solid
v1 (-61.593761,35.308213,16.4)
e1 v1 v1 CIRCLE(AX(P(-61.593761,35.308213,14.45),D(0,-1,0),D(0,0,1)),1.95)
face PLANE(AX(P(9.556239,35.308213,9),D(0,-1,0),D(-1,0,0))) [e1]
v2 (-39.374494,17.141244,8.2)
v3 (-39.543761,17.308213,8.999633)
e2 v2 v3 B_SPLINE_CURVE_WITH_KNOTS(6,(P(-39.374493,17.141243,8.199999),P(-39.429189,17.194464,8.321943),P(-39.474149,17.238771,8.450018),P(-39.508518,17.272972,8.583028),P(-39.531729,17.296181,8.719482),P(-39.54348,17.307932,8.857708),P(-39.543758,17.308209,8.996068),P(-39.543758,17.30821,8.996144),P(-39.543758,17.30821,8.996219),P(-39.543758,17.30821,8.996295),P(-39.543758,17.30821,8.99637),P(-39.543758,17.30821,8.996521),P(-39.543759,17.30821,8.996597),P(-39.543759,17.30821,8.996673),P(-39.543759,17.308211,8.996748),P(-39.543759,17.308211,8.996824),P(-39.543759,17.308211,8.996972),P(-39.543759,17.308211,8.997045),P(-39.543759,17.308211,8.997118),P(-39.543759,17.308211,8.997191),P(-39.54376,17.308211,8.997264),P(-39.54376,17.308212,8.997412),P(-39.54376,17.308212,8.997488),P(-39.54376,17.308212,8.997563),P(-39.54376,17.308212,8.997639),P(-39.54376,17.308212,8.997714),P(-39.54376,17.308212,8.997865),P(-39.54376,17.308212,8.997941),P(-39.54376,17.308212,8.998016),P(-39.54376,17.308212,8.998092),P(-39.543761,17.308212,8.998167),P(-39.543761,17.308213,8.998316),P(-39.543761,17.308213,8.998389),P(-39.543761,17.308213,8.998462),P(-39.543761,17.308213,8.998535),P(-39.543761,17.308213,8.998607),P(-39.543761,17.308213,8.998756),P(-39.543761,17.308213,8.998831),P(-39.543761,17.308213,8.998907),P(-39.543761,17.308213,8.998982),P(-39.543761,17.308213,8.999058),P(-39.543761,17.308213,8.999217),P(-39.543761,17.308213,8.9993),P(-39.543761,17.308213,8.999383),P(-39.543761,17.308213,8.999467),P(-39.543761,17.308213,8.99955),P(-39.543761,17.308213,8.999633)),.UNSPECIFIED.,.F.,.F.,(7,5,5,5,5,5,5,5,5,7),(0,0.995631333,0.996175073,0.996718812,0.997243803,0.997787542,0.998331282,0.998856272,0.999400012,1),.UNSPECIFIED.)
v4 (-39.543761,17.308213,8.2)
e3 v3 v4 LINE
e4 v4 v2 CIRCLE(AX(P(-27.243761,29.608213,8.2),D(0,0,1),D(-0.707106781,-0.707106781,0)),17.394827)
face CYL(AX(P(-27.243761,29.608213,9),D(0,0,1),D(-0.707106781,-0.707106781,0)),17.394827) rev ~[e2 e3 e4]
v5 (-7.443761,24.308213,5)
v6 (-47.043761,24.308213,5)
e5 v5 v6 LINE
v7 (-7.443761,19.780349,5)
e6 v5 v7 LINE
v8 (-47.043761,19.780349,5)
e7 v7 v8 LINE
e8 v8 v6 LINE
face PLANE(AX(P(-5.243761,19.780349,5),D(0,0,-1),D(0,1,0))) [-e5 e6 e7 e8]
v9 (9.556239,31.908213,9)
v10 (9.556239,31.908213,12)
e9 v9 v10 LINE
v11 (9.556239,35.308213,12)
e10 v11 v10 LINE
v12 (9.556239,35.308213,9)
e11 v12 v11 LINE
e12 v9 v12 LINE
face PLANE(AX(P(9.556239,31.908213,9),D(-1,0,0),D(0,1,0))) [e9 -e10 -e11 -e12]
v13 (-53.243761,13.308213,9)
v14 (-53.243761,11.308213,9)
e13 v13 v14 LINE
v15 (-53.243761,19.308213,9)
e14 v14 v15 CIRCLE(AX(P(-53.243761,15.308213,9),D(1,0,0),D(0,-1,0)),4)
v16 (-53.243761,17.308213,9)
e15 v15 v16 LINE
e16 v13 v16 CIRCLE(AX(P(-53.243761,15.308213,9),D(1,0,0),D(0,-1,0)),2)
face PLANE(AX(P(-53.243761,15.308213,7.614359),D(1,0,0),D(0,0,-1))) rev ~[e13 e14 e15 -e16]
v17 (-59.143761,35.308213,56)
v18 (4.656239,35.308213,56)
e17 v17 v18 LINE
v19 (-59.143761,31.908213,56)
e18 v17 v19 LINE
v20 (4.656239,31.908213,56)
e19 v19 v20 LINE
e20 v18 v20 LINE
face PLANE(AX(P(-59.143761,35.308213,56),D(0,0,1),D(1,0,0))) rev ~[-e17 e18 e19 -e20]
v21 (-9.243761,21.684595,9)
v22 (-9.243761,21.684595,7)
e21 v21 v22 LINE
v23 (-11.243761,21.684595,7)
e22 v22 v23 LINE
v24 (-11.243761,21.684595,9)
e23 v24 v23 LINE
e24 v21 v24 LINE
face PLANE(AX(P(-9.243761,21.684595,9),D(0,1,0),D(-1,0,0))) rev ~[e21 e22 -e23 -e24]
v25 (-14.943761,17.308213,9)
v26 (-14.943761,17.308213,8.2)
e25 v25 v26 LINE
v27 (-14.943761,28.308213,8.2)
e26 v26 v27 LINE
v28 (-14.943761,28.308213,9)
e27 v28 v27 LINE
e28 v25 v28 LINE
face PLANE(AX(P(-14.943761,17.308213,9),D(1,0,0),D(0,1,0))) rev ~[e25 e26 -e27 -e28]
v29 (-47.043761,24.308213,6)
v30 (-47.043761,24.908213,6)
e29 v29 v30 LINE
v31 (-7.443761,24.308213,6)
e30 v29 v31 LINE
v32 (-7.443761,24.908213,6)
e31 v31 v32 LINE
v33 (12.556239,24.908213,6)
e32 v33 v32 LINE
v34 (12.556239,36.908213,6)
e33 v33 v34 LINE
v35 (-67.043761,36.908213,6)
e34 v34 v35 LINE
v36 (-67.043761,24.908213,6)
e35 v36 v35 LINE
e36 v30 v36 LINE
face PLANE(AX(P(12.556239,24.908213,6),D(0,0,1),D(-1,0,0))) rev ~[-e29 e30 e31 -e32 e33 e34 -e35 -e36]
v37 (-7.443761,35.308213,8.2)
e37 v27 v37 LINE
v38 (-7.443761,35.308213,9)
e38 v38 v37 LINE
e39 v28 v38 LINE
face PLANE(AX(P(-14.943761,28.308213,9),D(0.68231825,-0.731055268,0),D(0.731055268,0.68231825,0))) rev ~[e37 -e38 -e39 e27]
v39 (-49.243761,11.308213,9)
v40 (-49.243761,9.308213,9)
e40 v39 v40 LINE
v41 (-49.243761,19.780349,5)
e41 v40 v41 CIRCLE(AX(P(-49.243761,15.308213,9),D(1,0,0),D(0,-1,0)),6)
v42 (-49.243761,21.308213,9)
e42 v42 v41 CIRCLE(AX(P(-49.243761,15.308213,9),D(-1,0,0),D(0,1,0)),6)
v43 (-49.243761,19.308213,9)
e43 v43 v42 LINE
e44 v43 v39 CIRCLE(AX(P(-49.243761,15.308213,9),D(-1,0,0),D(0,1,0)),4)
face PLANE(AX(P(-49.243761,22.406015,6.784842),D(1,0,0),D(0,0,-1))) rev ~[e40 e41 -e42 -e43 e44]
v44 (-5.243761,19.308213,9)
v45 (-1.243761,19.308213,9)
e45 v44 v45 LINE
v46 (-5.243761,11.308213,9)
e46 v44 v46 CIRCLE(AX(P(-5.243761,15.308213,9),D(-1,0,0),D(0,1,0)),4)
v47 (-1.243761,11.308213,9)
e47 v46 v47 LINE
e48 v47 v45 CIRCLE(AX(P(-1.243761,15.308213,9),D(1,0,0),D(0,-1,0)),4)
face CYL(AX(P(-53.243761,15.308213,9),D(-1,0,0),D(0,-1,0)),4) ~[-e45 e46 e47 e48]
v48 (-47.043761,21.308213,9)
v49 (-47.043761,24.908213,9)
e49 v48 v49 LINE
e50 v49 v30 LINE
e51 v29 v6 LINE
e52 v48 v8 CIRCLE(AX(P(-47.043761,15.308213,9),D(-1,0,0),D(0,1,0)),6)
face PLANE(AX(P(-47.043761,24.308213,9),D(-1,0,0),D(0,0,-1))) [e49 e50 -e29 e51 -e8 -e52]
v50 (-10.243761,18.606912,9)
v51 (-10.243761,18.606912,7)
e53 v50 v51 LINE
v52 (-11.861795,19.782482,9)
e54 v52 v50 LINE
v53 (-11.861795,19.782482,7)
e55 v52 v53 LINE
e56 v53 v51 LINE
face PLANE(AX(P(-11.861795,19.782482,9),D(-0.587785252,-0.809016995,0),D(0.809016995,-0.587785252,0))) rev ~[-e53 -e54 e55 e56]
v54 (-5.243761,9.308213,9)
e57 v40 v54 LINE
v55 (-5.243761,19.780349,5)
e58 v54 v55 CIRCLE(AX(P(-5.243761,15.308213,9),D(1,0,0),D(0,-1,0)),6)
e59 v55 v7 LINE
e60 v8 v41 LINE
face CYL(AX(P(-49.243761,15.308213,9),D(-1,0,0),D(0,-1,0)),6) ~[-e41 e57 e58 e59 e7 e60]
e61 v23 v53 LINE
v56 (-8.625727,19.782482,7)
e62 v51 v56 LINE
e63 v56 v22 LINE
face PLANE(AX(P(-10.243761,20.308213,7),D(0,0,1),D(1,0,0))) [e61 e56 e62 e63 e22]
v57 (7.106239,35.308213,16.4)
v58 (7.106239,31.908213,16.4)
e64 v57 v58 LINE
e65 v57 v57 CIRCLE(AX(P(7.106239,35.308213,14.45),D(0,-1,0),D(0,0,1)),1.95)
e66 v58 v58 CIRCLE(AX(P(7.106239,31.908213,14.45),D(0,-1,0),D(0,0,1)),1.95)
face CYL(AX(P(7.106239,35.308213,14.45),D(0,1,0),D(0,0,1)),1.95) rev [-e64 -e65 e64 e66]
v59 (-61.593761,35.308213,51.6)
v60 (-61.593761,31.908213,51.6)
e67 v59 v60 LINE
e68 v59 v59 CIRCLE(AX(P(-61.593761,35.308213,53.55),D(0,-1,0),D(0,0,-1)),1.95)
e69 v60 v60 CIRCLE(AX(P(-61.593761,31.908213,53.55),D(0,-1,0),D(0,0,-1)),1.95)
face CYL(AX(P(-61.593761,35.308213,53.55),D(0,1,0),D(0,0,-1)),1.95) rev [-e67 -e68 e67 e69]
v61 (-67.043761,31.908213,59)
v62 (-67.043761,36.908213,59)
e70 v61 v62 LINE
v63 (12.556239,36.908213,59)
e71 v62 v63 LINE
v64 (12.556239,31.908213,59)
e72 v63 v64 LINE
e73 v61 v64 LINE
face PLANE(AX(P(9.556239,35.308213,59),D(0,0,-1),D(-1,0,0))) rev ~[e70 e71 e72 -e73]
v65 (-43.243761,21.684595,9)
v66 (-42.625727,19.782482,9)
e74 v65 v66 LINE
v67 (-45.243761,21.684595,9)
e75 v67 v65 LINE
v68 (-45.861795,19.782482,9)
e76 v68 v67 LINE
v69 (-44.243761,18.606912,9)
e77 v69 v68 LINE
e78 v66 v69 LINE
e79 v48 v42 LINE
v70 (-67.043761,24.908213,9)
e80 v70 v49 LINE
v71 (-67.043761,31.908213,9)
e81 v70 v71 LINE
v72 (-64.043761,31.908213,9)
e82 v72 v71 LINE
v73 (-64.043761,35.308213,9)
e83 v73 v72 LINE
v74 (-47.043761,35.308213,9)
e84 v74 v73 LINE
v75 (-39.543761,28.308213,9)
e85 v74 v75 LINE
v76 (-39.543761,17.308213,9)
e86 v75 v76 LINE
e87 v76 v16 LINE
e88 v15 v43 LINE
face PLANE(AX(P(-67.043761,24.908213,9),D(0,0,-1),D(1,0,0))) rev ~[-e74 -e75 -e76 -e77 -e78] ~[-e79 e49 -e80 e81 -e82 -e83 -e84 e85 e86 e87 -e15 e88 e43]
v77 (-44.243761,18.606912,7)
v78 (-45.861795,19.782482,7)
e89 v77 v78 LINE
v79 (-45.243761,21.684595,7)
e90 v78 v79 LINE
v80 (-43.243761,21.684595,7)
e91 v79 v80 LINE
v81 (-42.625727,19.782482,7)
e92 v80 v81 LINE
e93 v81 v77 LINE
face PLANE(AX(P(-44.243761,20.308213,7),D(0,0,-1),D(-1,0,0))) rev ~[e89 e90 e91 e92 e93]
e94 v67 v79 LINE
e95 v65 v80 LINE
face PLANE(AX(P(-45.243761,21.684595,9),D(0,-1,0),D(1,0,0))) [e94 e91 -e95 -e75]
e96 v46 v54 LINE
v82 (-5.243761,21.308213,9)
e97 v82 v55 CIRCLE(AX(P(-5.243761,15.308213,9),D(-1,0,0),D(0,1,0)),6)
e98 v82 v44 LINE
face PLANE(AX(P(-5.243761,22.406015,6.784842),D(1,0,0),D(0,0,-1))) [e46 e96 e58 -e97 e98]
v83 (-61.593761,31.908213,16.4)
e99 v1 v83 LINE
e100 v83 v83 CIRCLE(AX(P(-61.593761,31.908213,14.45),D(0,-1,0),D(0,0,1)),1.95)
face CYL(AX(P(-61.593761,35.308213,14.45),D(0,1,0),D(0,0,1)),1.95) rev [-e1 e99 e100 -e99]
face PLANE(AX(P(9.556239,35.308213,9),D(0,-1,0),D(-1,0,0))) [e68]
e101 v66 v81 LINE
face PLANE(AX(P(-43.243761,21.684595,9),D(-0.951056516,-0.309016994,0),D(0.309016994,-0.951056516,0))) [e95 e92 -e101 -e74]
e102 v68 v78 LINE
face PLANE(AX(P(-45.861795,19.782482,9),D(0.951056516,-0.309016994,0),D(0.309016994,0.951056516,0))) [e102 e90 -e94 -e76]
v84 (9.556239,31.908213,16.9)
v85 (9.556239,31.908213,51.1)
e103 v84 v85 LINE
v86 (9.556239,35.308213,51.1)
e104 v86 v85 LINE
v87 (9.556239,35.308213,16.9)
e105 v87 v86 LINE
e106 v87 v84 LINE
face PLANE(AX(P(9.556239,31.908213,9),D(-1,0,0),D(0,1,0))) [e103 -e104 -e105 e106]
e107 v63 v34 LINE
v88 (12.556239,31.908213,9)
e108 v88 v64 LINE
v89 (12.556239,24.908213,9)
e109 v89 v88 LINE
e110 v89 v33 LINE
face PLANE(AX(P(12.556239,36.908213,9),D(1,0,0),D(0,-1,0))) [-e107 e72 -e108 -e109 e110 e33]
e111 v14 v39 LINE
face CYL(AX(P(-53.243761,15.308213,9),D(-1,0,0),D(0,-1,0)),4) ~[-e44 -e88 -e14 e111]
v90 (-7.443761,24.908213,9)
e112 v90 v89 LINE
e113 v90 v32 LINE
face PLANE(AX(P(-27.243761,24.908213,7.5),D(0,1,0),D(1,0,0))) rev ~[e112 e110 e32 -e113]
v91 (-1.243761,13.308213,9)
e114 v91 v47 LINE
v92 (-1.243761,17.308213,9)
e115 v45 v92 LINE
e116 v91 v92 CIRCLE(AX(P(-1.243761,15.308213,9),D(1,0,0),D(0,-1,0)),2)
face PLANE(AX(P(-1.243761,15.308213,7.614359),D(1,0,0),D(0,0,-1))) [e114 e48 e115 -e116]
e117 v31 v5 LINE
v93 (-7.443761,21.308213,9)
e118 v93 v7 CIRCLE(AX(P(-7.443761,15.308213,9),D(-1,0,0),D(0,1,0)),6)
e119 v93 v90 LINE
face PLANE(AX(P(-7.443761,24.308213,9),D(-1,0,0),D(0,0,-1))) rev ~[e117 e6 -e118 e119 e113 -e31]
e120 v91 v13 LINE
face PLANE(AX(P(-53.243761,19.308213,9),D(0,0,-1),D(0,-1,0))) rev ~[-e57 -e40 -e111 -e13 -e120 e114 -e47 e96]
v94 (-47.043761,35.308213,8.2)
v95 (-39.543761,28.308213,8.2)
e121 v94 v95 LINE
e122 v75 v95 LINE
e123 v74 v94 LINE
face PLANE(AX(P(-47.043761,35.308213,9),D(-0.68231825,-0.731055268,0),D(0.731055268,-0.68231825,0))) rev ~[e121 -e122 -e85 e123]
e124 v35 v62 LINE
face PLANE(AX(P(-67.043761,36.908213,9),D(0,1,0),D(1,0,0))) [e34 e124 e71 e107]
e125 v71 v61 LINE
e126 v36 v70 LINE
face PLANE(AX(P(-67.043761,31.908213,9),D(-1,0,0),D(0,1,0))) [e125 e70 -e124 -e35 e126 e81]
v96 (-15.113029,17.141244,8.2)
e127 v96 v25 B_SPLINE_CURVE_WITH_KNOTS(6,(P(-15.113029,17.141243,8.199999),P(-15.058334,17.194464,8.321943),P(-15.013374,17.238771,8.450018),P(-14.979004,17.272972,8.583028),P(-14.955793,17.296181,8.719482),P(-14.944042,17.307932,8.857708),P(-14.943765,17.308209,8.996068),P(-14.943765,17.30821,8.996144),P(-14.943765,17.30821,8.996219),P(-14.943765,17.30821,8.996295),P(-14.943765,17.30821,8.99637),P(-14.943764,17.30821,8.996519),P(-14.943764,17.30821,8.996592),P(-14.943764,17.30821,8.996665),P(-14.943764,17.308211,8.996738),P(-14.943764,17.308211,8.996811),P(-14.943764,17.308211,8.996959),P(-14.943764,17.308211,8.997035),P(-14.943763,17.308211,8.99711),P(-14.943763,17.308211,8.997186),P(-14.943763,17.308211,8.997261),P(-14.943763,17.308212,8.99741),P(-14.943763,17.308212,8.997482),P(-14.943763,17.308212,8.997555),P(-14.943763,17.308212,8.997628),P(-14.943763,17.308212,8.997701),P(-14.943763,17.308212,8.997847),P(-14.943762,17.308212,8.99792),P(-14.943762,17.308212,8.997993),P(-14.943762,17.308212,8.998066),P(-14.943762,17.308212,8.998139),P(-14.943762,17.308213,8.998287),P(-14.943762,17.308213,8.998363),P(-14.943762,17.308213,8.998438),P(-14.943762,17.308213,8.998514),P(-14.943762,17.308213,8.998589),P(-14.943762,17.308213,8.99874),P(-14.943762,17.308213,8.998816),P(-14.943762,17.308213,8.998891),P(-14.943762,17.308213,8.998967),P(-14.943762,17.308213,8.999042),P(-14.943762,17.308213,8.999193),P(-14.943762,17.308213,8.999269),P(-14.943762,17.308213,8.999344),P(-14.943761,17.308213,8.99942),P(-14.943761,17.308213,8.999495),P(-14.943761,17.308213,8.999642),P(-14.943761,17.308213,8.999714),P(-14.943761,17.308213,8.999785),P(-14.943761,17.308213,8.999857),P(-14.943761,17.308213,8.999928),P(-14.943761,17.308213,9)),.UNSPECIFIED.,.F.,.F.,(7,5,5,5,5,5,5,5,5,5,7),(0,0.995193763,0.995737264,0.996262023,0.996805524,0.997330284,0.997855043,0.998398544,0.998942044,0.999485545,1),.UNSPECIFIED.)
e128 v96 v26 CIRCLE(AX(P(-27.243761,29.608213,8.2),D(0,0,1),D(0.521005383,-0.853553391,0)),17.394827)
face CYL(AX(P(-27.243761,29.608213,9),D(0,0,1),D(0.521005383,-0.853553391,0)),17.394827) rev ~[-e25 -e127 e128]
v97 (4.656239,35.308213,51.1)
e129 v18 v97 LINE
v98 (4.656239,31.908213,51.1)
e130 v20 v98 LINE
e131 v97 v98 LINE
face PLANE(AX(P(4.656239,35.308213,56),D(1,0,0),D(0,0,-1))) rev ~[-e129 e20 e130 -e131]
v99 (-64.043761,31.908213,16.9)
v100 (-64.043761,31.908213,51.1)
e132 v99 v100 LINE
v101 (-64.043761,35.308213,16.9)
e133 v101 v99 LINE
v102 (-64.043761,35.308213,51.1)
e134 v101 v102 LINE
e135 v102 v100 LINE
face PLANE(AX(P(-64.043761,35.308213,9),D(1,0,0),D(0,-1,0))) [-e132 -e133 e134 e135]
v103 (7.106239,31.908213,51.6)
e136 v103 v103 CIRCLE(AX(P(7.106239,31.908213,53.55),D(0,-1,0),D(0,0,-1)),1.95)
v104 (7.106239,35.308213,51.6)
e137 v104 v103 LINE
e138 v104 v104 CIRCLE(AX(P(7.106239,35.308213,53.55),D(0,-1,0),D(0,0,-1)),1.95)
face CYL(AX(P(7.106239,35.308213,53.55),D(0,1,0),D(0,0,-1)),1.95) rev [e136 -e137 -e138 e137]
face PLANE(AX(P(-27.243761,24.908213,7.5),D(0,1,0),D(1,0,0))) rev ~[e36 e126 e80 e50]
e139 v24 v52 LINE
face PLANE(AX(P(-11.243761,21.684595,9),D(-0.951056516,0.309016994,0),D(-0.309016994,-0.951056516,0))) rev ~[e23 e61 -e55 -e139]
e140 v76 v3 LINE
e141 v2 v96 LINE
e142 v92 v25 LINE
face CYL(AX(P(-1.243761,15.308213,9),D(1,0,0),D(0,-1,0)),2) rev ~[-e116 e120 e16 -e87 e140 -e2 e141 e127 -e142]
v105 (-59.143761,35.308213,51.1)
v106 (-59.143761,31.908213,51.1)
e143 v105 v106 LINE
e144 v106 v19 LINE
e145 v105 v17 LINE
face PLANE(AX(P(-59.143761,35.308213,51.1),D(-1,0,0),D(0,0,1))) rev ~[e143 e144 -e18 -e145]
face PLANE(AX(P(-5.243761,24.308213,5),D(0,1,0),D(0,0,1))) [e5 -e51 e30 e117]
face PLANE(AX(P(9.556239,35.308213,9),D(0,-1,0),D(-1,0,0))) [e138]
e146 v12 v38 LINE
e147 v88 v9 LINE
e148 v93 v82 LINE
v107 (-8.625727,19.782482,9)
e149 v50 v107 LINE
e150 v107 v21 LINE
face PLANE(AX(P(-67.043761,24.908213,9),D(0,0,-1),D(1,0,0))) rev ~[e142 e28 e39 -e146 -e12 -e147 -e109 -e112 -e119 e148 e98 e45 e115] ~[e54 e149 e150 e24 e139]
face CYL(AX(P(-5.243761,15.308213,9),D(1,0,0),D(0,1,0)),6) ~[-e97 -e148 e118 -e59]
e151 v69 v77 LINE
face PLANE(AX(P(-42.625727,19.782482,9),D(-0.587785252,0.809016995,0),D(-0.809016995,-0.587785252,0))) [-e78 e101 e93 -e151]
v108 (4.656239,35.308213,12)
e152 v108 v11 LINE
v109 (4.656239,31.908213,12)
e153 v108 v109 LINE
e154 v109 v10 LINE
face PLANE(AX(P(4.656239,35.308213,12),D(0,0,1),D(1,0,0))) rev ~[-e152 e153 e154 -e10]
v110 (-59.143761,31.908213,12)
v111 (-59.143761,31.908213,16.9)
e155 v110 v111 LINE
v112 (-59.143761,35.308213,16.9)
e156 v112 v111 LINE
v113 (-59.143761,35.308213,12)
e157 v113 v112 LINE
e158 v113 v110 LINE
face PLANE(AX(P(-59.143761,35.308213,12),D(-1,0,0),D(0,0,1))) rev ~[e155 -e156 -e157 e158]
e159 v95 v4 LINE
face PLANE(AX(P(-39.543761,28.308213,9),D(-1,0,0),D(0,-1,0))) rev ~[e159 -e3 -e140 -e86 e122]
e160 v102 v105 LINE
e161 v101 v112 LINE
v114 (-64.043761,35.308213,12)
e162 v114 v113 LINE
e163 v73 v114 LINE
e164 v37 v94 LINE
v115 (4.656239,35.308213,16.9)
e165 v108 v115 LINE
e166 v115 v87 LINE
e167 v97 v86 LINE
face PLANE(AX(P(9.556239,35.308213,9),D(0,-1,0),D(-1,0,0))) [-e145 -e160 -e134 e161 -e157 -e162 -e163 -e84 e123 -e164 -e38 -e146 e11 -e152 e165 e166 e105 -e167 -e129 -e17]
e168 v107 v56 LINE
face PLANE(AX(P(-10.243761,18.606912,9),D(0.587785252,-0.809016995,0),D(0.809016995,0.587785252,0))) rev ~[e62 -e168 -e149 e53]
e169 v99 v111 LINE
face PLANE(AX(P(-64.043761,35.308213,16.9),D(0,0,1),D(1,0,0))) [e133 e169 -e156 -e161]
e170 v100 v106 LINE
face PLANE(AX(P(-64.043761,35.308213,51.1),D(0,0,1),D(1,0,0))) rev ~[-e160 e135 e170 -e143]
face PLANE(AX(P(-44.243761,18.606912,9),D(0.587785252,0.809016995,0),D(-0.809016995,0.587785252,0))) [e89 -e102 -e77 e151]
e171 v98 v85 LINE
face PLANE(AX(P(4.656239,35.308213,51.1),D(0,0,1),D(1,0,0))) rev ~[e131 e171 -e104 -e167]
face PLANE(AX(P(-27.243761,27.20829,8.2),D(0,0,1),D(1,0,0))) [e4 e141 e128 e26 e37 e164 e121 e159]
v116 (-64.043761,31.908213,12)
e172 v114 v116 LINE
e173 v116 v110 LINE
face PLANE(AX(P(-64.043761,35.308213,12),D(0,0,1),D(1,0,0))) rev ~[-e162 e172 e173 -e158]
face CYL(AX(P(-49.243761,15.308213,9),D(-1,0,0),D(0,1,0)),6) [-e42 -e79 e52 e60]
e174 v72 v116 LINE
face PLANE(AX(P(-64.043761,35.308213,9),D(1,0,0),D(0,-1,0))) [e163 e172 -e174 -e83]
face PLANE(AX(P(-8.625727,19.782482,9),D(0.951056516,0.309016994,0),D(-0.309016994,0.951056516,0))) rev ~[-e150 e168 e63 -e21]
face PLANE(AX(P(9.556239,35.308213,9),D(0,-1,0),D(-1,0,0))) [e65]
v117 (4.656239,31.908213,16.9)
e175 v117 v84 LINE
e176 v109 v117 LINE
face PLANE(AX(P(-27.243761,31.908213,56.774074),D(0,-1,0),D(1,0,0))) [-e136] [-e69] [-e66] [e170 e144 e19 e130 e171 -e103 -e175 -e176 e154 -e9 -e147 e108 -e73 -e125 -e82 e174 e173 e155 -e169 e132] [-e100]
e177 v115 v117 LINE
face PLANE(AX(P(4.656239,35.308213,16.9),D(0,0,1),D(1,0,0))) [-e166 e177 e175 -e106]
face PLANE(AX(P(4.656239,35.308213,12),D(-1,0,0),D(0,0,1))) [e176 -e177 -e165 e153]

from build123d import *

# Parameters (mm, degrees)
IZIM2_W                          = 40
IZIM2_H                          = 16
Y_KSEKLIK_EKSTR_ZYON4_DEPTH      = 9
Y_KSEKLIK_EKSTR_ZYON5_DEPTH      = 2
Y_KSEKLIK_EKSTR_ZYON5_DEPTH_BACK = 42
Y_KSEKLIK_EKSTR_ZYON6_DEPTH      = 6
Y_KSEKLIK_EKSTR_ZYON6_DEPTH_BACK = 46
KES_EKSTR_ZYON1_DEPTH            = 52
KES_EKSTR_ZYON2_DEPTH            = 53.347615077
KES_EKSTR_ZYON2_DEPTH_BACK       = 52
Y_KSEKLIK_EKSTR_ZYON7_START      = -44
Y_KSEKLIK_EKSTR_ZYON7_DEPTH      = 44
KES_EKSTR_ZYON4_DEPTH            = 44
KES_EKSTR_ZYON8_START            = -2.2
KES_EKSTR_ZYON8_DEPTH            = 2.2
KES_EKSTR_ZYON9_DEPTH            = 2.2
IZIM14_W                         = 39.6
IZIM14_H                         = 3
ARALIK_EKS_DEPTH                 = 0.6
Y_KSEKLIK_EKSTR_ZYON9_DEPTH      = 12
Y_KSEKLIK_EKSTR_ZYON10_DEPTH     = 50
IZIM17_R                         = 1.95
IZIM17_W                         = 4.9
IZIM17_H                         = 4.9
Y_KSEKLIK_EKSTR_ZYON11_DEPTH     = 3.4
KES_EKSTR_ZYON11_DEPTH           = 0.8
KES_EKSTR_ZYON12_DEPTH           = 2


with BuildPart() as part:
    # Çizim2 → Yükseklik-Ekstrüzyon4 (new body)
    with BuildSketch(Plane.XY):
        with Locations((-27.243761407, 15.308213235)):
            Rectangle(IZIM2_W, IZIM2_H)
    extrude(amount=Y_KSEKLIK_EKSTR_ZYON4_DEPTH)

    # Çizim3 → Yükseklik-Ekstrüzyon5 (add, two sides: drawn at the far end of the back side and taken through both)
    with BuildSketch(Plane(origin=(-7.243761407, 0, 0), x_dir=(0, 0, -1), z_dir=(1, 0, 0)).offset(-Y_KSEKLIK_EKSTR_ZYON5_DEPTH_BACK)):
        with BuildLine():
            ThreePointArc((-9, 9.308213235), (-3, 15.308213235), (-9, 21.308213235))
            Line((-9, 21.308213235), (-9, 19.308213235))
            ThreePointArc((-9, 19.308213235), (-5, 15.308213235), (-9, 11.308213235))
            Line((-9, 11.308213235), (-9, 9.308213235))
        make_face()
    extrude(amount=Y_KSEKLIK_EKSTR_ZYON5_DEPTH + Y_KSEKLIK_EKSTR_ZYON5_DEPTH_BACK)

    # Çizim3<3> → Yükseklik-Ekstrüzyon6 (add, two sides: drawn at the far end of the back side and taken through both)
    with BuildSketch(Plane(origin=(-7.243761407, 0, 0), x_dir=(0, 0, -1), z_dir=(1, 0, 0)).offset(-Y_KSEKLIK_EKSTR_ZYON6_DEPTH_BACK)):
        with BuildLine():
            ThreePointArc((-9, 11.308213235), (-5, 15.308213235), (-9, 19.308213235))
            Line((-9, 19.308213235), (-9, 11.308213235))
        make_face()
    extrude(amount=Y_KSEKLIK_EKSTR_ZYON6_DEPTH + Y_KSEKLIK_EKSTR_ZYON6_DEPTH_BACK)

    # Çizim4 → Kes-Ekstrüzyon1 (cut)
    with BuildSketch(Plane(origin=(-1.243761407, 0, 0), x_dir=(0, 0, -1), z_dir=(1, 0, 0))):
        with BuildLine():
            Line((-9, 17.308213235), (-9, 13.308213235))
            ThreePointArc((-9, 13.308213235), (-7, 15.308213235), (-9, 17.308213235))
        make_face()
    extrude(amount=-KES_EKSTR_ZYON1_DEPTH, mode=Mode.SUBTRACT)

    # Çizim3<4> → Kes-Ekstrüzyon2 (cut, two sides: drawn at the far end of the back side and taken through both)
    with BuildSketch(Plane(origin=(-7.243761407, 0, 0), x_dir=(0, 0, -1), z_dir=(1, 0, 0)).offset(-KES_EKSTR_ZYON2_DEPTH_BACK)):
        with BuildLine():
            Line((-9, 23.308213235), (-9, 21.308213235))
            ThreePointArc((-9, 21.308213235), (-3, 15.308213235), (-9, 9.308213235))
            Line((-9, 9.308213235), (-9, 7.308213235))
            Line((-9, 7.308213235), (0, 7.308213235))
            Line((0, 7.308213235), (0, 23.308213235))
            Line((0, 23.308213235), (-9, 23.308213235))
        make_face()
    extrude(amount=KES_EKSTR_ZYON2_DEPTH + KES_EKSTR_ZYON2_DEPTH_BACK, mode=Mode.SUBTRACT)

    # Çizim7 → Yükseklik-Ekstrüzyon7 (add)
    with BuildSketch(Plane(origin=(-5.243761407, 0, 0), x_dir=(0, 0, -1), z_dir=(1, 0, 0)).offset(Y_KSEKLIK_EKSTR_ZYON7_START)):
        with BuildLine():
            Line((-5, 19.78034919), (-5, 24.308213235))
            Line((-5, 24.308213235), (-9, 24.308213235))
            Line((-9, 24.308213235), (-9, 21.308213235))
            ThreePointArc((-9, 21.308213235), (-6.859067461, 20.913247389), (-5, 19.78034919))
        make_face()
    extrude(amount=Y_KSEKLIK_EKSTR_ZYON7_DEPTH)

    # Çizim8 → Kes-Ekstrüzyon4 (cut)
    with BuildSketch(Plane.XY.offset(9)):
        Polygon((-7.443761407, 24.308213235), (-7.443761407, 21.308213235), (-5.243761407, 21.308213235), (-5.243761407, 22.308213235), (-5.243761407, 24.308213235), align=None)
        Polygon((-49.243761407, 24.308213235), (-47.043761407, 24.308213235), (-47.043761407, 21.308213235), (-49.243761407, 21.308213235), (-49.243761407, 22.308213235), align=None)
    extrude(amount=-KES_EKSTR_ZYON4_DEPTH, mode=Mode.SUBTRACT)

    # Çizim7<3> → Kes-Ekstrüzyon8 (cut)
    with BuildSketch(Plane(origin=(-5.243761407, 0, 0), x_dir=(0, 0, -1), z_dir=(1, 0, 0)).offset(KES_EKSTR_ZYON8_START)):
        with BuildLine():
            Line((-5, 19.78034919), (-5, 24.308213235))
            Line((-5, 24.308213235), (-9, 24.308213235))
            Line((-9, 24.308213235), (-9, 21.308213235))
            ThreePointArc((-9, 21.308213235), (-6.859067461, 20.913247389), (-5, 19.78034919))
        make_face()
    extrude(amount=KES_EKSTR_ZYON8_DEPTH, mode=Mode.SUBTRACT)

    # Çizim12 → Kes-Ekstrüzyon9 (cut)
    with BuildSketch(Plane.ZY.offset(49.243761407)):
        with BuildLine():
            Line((5, 19.78034919), (5, 21.308213235))
            Line((5, 21.308213235), (9, 21.308213235))
            ThreePointArc((9, 21.308213235), (6.859067461, 20.913247389), (5, 19.78034919))
        make_face()
    extrude(amount=-KES_EKSTR_ZYON9_DEPTH, mode=Mode.SUBTRACT)

    # Çizim14 → aralik_eks (add)
    with BuildSketch(Plane(origin=(0, 24.308213235, 0), x_dir=(1, 0, 0), z_dir=(0, 1, 0))):
        with Locations((-27.243761407, -7.5)):
            Rectangle(IZIM14_W, IZIM14_H)
    extrude(amount=ARALIK_EKS_DEPTH)

    # Çizim15 → Yükseklik-Ekstrüzyon9 (add)
    with BuildSketch(Plane(origin=(0, 24.908213235, 0), x_dir=(1, 0, 0), z_dir=(0, 1, 0))):
        Polygon((-47.043761407, -6), (-67.043761407, -6), (-67.043761407, -9), (-47.043761407, -9), (-7.443761407, -9), (12.556238593, -9), (12.556238593, -6), (-7.443761407, -6), align=None)
    extrude(amount=Y_KSEKLIK_EKSTR_ZYON9_DEPTH)

    # Çizim16 → Yükseklik-Ekstrüzyon10 (add)
    with BuildSketch(Plane.XY.offset(9)):
        Polygon((-67.043761407, 36.908213235), (12.556238593, 36.908213235), (12.556238593, 31.908213235), (9.556238593, 31.908213235), (9.556238593, 35.308213235), (-64.043761407, 35.308213235), (-64.043761407, 31.908213235), (-67.043761407, 31.908213235), align=None)
    extrude(amount=Y_KSEKLIK_EKSTR_ZYON10_DEPTH)

    # Çizim17 → Yükseklik-Ekstrüzyon11 (add)
    # profile 1 of 3: a face of its own
    with BuildSketch(Plane.XZ.offset(-35.308213235)):
        Polygon((9.556238593, 59), (-64.043761407, 59), (-64.043761407, 51.1), (-59.143761407, 51.1), (-59.143761407, 56), (4.656238593, 56), (4.656238593, 51.1), (9.556238593, 51.1), align=None)
        with Locations((7.106238593, 53.55)):
            Circle(IZIM17_R, mode=Mode.SUBTRACT)
        with Locations((-61.593761407, 53.55)):
            Circle(IZIM17_R, mode=Mode.SUBTRACT)
    # profile 2 of 3: a face of its own
    with BuildSketch(Plane.XZ.offset(-35.308213235)):
        with Locations((7.106238593, 14.45)):
            Rectangle(IZIM17_W, IZIM17_H)
        with Locations((7.106238593, 14.45)):
            Circle(IZIM17_R, mode=Mode.SUBTRACT)
    # profile 3 of 3: a face of its own
    with BuildSketch(Plane.XZ.offset(-35.308213235)):
        with Locations((-61.593761407, 14.45)):
            Rectangle(IZIM17_W, IZIM17_H)
        with Locations((-61.593761407, 14.45)):
            Circle(IZIM17_R, mode=Mode.SUBTRACT)
    extrude(amount=Y_KSEKLIK_EKSTR_ZYON11_DEPTH)

    # Çizim18 → Kes-Ekstrüzyon11 (cut)
    with BuildSketch(Plane.XY.offset(9)):
        with BuildLine():
            Line((-39.543761407, 28.308213235), (-39.543761407, 17.308213235))
            ThreePointArc((-39.543761407, 17.308213235), (-38.000834326, 15.938341904), (-36.30655982, 14.760799827))
            Line((-36.30655982, 14.760799827), (-18.180962994, 14.760799827))
            ThreePointArc((-18.180962994, 14.760799827), (-16.486688488, 15.938341904), (-14.943761407, 17.308213235))
            Line((-14.943761407, 17.308213235), (-14.943761407, 28.308213235))
            Line((-14.943761407, 28.308213235), (-7.443761407, 35.308213235))
            Line((-7.443761407, 35.308213235), (-47.043761407, 35.308213235))
            Line((-47.043761407, 35.308213235), (-39.543761407, 28.308213235))
        make_face()
    extrude(amount=-KES_EKSTR_ZYON11_DEPTH, mode=Mode.SUBTRACT)

    # Çizim19 → Kes-Ekstrüzyon12 (cut)
    with BuildSketch(Plane.XY.offset(9)):
        Polygon((-10.243761407, 18.606911619), (-8.625727418, 19.782482123), (-9.243761407, 21.684595156), (-11.243761407, 21.684595156), (-11.861795396, 19.782482123), align=None)
        Polygon((-42.625727418, 19.782482123), (-44.243761407, 18.606911619), (-45.861795396, 19.782482123), (-45.243761407, 21.684595156), (-43.243761407, 21.684595156), align=None)
    extrude(amount=-KES_EKSTR_ZYON12_DEPTH, mode=Mode.SUBTRACT)


solid = part.part
